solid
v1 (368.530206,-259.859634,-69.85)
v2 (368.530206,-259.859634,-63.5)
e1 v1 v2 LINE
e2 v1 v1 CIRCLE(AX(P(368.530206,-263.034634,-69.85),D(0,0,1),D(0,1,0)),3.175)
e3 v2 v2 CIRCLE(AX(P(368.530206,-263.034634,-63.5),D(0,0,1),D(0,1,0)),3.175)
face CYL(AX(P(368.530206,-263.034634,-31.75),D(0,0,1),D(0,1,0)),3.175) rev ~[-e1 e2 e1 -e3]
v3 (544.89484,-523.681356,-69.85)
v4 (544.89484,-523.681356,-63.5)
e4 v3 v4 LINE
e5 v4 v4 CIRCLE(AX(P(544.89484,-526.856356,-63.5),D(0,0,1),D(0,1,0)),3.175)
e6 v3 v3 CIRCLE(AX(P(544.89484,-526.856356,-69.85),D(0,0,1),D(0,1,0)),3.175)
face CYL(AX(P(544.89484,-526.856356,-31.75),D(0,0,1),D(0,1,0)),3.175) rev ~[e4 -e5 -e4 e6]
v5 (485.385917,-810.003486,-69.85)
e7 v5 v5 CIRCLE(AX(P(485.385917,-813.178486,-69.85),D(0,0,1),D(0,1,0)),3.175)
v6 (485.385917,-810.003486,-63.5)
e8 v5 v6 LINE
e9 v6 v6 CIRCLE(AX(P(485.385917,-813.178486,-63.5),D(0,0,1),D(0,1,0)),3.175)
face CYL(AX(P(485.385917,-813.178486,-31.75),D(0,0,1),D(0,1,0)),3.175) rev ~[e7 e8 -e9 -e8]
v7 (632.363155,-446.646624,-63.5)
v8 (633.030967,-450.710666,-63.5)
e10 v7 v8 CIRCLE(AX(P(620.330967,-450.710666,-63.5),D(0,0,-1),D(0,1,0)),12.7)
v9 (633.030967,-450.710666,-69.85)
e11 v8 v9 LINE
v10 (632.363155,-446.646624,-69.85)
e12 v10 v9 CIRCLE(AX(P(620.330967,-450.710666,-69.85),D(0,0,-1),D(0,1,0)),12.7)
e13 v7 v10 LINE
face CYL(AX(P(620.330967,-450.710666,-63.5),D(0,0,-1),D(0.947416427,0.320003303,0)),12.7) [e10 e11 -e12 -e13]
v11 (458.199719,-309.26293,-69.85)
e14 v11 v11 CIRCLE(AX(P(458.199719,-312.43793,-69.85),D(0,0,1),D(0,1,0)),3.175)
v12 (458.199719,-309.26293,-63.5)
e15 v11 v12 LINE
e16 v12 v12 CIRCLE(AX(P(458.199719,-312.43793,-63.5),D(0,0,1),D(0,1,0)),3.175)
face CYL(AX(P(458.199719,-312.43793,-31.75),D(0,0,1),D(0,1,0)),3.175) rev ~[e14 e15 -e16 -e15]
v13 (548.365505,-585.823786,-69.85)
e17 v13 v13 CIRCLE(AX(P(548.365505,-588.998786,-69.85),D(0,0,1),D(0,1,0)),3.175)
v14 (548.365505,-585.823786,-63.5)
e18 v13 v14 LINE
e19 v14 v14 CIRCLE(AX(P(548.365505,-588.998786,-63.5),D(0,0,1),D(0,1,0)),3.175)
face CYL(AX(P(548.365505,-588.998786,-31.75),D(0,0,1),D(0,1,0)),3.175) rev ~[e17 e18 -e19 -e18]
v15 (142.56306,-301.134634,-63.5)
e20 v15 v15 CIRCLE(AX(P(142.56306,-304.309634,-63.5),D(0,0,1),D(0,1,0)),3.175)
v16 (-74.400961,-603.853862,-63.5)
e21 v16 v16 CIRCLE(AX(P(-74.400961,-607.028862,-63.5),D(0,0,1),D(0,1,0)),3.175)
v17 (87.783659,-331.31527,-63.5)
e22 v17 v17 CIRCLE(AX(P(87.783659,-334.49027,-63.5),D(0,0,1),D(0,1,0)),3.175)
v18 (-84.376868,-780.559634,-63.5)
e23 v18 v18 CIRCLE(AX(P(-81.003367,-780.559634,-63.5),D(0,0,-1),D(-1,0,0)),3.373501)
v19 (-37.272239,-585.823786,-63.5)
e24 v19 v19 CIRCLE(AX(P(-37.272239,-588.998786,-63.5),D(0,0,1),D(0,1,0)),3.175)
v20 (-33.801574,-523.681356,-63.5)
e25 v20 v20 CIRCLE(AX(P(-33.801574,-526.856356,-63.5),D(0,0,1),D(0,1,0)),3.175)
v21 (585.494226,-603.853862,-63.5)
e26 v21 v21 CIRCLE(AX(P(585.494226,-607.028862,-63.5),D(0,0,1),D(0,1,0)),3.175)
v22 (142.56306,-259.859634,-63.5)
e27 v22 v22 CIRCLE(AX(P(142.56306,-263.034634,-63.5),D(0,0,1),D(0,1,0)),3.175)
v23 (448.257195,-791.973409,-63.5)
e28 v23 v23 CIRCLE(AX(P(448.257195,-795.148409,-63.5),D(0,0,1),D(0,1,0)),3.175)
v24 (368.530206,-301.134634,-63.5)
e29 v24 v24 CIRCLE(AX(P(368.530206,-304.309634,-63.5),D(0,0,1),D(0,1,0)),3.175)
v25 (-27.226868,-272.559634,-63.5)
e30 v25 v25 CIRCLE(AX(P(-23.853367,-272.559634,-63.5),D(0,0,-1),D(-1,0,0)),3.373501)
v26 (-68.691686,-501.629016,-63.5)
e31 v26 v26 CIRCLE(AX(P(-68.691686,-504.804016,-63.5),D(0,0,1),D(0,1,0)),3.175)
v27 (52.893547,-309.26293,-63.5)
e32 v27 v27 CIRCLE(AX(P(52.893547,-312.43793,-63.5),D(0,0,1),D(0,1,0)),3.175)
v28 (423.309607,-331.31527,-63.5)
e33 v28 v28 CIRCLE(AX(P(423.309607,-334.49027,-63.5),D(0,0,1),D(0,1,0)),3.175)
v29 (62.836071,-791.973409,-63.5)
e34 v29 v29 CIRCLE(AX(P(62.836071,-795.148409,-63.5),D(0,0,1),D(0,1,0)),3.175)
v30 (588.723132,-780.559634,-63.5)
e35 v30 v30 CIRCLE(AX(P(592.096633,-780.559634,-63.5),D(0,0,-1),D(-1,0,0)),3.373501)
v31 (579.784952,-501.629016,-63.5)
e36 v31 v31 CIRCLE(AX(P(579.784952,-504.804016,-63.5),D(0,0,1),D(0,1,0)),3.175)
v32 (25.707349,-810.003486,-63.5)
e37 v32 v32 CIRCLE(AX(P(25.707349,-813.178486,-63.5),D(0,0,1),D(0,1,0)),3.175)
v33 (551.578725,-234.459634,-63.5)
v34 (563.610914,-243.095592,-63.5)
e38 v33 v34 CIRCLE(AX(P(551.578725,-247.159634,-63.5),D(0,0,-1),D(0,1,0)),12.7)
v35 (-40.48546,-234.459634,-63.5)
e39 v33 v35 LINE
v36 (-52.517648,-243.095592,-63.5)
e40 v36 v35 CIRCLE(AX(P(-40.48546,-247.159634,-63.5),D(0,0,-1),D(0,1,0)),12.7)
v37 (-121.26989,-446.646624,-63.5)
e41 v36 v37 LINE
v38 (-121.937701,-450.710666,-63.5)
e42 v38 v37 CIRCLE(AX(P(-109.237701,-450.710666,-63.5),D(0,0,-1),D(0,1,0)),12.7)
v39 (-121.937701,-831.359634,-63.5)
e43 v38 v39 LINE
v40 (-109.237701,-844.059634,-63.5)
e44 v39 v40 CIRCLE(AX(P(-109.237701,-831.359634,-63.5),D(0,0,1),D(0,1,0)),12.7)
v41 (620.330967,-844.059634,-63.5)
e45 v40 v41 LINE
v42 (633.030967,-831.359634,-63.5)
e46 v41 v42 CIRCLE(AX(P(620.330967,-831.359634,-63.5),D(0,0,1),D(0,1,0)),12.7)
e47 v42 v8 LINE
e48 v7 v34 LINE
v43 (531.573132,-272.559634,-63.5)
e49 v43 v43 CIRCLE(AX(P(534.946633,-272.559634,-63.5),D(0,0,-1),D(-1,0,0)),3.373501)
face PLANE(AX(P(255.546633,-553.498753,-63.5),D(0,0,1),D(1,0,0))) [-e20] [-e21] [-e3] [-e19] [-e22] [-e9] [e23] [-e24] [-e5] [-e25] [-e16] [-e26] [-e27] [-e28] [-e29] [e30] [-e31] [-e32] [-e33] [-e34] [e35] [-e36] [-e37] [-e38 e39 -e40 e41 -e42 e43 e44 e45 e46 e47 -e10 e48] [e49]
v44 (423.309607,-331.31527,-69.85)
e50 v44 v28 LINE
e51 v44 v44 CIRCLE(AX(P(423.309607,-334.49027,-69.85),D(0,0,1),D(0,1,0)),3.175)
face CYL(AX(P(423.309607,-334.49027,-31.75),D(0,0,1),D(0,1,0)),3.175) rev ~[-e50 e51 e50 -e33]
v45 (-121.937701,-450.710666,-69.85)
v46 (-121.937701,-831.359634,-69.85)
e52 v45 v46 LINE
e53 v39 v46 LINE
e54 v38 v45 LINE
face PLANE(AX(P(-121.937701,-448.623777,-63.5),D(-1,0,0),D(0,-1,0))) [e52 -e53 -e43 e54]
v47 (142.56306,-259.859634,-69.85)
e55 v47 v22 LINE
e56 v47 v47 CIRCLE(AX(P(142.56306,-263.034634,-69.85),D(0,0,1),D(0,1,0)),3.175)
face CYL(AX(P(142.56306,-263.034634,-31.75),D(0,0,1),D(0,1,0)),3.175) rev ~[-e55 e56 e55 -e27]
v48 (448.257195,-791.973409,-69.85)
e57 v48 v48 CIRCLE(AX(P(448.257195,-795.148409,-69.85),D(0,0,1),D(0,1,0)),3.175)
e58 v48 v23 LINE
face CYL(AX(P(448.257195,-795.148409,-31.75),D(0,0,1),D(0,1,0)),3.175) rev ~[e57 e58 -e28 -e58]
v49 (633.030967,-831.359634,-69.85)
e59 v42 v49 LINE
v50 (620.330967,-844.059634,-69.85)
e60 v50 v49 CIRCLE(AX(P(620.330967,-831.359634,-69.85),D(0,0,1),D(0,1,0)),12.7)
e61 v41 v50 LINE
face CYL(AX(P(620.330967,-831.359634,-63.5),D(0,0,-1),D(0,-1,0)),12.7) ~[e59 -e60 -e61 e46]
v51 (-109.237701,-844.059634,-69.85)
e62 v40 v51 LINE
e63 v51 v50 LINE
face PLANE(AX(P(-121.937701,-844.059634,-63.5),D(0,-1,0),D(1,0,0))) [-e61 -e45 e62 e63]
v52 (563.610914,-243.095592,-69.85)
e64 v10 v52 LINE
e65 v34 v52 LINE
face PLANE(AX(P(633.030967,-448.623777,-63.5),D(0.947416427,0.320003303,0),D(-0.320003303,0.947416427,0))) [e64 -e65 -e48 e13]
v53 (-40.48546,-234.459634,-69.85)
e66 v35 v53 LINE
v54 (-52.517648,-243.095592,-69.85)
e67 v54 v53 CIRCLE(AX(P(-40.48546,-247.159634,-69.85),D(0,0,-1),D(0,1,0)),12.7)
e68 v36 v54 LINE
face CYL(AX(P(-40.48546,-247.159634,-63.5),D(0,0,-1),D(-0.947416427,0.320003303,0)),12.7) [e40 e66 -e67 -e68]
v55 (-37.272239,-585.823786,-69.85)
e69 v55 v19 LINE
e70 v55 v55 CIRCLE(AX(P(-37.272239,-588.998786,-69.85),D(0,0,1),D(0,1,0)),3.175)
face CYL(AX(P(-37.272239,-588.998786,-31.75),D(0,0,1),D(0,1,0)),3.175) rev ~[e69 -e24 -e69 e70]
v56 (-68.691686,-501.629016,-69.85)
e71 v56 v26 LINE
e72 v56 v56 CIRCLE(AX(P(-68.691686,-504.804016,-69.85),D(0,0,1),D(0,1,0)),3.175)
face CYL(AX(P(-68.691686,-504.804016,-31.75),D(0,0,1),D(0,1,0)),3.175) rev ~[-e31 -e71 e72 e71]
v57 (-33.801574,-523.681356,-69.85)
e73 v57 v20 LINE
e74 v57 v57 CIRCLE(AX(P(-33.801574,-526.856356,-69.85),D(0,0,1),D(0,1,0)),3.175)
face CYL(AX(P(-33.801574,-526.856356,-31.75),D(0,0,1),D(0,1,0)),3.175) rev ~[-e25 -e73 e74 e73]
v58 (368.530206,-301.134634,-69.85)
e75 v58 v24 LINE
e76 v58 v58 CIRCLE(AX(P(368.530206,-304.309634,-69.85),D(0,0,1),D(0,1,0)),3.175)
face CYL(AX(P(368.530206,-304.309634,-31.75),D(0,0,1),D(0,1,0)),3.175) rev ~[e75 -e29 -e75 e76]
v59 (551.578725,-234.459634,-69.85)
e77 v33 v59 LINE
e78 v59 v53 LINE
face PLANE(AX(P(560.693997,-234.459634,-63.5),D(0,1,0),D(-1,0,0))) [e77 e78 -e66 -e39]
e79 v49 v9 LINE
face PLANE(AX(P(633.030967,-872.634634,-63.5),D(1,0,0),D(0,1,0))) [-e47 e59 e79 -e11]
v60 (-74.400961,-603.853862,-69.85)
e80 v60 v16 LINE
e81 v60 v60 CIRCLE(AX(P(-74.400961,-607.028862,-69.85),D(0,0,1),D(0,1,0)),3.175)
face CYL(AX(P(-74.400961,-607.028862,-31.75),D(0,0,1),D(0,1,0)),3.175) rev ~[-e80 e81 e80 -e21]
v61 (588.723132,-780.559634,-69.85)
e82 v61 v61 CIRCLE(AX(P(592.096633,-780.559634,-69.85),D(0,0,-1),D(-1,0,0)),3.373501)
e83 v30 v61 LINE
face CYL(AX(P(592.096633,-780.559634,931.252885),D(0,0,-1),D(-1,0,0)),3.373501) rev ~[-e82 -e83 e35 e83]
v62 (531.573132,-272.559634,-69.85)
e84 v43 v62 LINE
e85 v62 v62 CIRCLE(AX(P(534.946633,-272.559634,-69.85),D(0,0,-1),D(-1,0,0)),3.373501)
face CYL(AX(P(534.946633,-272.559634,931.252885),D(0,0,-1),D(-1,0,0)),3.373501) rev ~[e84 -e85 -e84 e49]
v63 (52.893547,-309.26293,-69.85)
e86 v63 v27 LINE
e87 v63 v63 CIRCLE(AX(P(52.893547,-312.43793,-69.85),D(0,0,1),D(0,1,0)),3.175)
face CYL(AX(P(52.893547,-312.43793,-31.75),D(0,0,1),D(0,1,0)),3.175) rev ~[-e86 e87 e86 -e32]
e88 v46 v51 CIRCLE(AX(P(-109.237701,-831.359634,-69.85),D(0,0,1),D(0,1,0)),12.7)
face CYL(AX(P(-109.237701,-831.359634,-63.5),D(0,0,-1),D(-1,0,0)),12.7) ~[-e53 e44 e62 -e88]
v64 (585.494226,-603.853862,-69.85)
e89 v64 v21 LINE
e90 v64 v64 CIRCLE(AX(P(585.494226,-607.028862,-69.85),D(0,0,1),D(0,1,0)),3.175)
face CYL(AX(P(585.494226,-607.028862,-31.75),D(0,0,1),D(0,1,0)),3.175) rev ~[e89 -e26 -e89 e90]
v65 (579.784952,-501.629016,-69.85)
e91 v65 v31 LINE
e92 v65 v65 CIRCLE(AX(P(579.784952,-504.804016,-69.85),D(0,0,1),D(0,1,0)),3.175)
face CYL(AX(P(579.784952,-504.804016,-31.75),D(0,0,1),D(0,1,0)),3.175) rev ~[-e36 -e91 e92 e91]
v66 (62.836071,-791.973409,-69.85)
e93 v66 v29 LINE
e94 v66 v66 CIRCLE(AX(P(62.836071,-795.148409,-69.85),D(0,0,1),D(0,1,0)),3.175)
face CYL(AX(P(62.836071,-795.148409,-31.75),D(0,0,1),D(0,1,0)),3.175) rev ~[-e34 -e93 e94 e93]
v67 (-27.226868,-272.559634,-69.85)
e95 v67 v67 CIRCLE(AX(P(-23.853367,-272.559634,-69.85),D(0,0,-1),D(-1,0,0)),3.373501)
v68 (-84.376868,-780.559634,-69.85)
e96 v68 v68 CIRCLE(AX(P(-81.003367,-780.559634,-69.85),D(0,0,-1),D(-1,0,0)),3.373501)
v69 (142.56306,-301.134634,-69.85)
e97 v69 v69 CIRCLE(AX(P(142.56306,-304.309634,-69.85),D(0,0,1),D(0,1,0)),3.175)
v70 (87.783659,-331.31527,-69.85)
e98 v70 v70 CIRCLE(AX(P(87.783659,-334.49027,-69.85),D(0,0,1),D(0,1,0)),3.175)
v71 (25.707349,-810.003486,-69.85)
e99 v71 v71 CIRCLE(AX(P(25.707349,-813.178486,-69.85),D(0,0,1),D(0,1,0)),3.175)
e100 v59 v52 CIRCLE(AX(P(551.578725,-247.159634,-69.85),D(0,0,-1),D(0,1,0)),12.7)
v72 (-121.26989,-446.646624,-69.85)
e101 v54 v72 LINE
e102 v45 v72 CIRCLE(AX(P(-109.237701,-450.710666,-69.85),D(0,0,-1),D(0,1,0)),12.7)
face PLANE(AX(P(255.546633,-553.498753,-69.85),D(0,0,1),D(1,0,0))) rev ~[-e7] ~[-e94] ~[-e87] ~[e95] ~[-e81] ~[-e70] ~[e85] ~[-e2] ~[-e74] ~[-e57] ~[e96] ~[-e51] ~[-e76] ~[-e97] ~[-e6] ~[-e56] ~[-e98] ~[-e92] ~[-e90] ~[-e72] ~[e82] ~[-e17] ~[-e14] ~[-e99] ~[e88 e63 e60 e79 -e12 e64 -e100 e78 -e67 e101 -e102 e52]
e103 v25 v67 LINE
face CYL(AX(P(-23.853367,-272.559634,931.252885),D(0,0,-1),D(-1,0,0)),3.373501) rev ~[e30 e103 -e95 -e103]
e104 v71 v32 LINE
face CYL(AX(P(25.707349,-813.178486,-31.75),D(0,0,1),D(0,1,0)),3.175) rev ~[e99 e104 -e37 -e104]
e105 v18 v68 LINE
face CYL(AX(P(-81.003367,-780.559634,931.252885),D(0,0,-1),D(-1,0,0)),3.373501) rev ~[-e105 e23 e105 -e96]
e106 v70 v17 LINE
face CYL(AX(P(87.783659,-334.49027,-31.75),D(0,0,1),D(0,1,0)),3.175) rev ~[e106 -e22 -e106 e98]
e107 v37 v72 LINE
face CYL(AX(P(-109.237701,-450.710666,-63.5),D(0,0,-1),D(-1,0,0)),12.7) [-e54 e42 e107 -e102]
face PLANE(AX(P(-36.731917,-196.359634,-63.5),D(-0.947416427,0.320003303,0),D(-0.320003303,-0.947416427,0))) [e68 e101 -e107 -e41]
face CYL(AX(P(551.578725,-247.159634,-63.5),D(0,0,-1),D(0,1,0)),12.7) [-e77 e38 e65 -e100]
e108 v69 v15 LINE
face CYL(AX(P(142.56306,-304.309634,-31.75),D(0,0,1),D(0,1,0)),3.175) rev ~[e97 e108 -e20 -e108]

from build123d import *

# Parameters (mm, degrees)
SKETCH1_R                             = 5.3578125
BOSS_EXTRUDE1_DEPTH                   = 6.35
FILLET1_R                             = 6.35
CUT_EXTRUDE1_DEPTH                    = 1167.284548985
BOSS_EXTRUDE3_DEPTH                   = 6.35
SKETCH13_W                            = 3.175
SKETCH13_H                            = 76.2
F_1_4_0_25_DIAMETER_HOLE4_AT_2_COUNT  = 2
F_1_4_0_25_DIAMETER_HOLE4_AT_2_PITCH  = 459.678567638
F_1_4_0_25_DIAMETER_HOLE4_AT_3_COUNT  = 2
F_1_4_0_25_DIAMETER_HOLE4_AT_3_PITCH  = 596.539198556
F_1_4_0_25_DIAMETER_HOLE4_AT_4_COUNT  = 2
F_1_4_0_25_DIAMETER_HOLE4_AT_4_PITCH  = 568.707381741
F_1_4_0_25_DIAMETER_HOLE4_AT_5_COUNT  = 2
F_1_4_0_25_DIAMETER_HOLE4_AT_5_PITCH  = 422.93434027
F_1_4_0_25_DIAMETER_HOLE4_AT_6_COUNT  = 2
F_1_4_0_25_DIAMETER_HOLE4_AT_6_PITCH  = 592.904725038
F_1_4_0_25_DIAMETER_HOLE4_AT_7_COUNT  = 2
F_1_4_0_25_DIAMETER_HOLE4_AT_7_PITCH  = 634.11103449
F_1_4_0_25_DIAMETER_HOLE4_AT_8_COUNT  = 2
F_1_4_0_25_DIAMETER_HOLE4_AT_8_PITCH  = 622.278043561
F_1_4_0_25_DIAMETER_HOLE4_AT_9_COUNT  = 2
F_1_4_0_25_DIAMETER_HOLE4_AT_9_PITCH  = 661.65758107
F_1_4_0_25_DIAMETER_HOLE4_AT_10_COUNT = 2
F_1_4_0_25_DIAMETER_HOLE4_AT_10_PITCH = 648.217378276
F_1_4_0_25_DIAMETER_HOLE4_AT_11_COUNT = 2
F_1_4_0_25_DIAMETER_HOLE4_AT_11_PITCH = 613.575602616
F_1_4_0_25_DIAMETER_HOLE4_AT_12_COUNT = 2
F_1_4_0_25_DIAMETER_HOLE4_AT_12_PITCH = 522.113747952
F_1_4_0_25_DIAMETER_HOLE4_AT_13_COUNT = 2
F_1_4_0_25_DIAMETER_HOLE4_AT_13_PITCH = 562.417563003
F_1_4_0_25_DIAMETER_HOLE4_AT_14_COUNT = 2
F_1_4_0_25_DIAMETER_HOLE4_AT_14_PITCH = 501.478009771
F_1_4_0_25_DIAMETER_HOLE4_AT_15_COUNT = 2
F_1_4_0_25_DIAMETER_HOLE4_AT_15_PITCH = 482.69646419
F_1_4_0_25_DIAMETER_HOLE4_AT_16_COUNT = 2
F_1_4_0_25_DIAMETER_HOLE4_AT_16_PITCH = 322.499599747
F_1_4_0_25_DIAMETER_HOLE4_AT_17_COUNT = 2
F_1_4_0_25_DIAMETER_HOLE4_AT_17_PITCH = 292.440889916
F_1_4_0_25_DIAMETER_HOLE4_AT_18_COUNT = 2
F_1_4_0_25_DIAMETER_HOLE4_AT_18_PITCH = 41.275
F_1_4_0_25_DIAMETER_HOLE4_AT_19_COUNT = 2
F_1_4_0_25_DIAMETER_HOLE4_AT_19_PITCH = 232.85825455
F_1_4_0_25_DIAMETER_HOLE4_AT_20_COUNT = 2
F_1_4_0_25_DIAMETER_HOLE4_AT_20_PITCH = 229.170986574
SKETCH15_W                            = 754.968667661
SKETCH15_H                            = 28.575
CUT_EXTRUDE3_DEPTH                    = 1079.081505166
F_17_64_0_26563_DIAMETER_HOLE1_D      = 6.747002
CUT_EXTRUDE4_DEPTH                    = 1056.085396105
FILLET2_R                             = 12.7


with BuildPart() as part:
    # Sketch1 → Boss-Extrude1 (new body)
    with BuildSketch(Plane.XY):
        Polygon((128.546632935, 292.971606529), (382.546632935, 292.971606529), (776.246632935, -872.634633965), (-265.153367065, -872.634633965), align=None)
        with Locations((396.756156044, 191.371606529)):
            Circle(SKETCH1_R, mode=Mode.SUBTRACT)
        with Locations((114.659199441, 192.325199783)):
            Circle(SKETCH1_R, mode=Mode.SUBTRACT)
        with Locations((-193.570796303, -720.234633965)):
            Circle(SKETCH1_R, mode=Mode.SUBTRACT)
        with Locations((704.664062174, -720.234633965)):
            Circle(SKETCH1_R, mode=Mode.SUBTRACT)
        with Locations((491.127459301, -88.028393471)):
            Circle(SKETCH1_R, mode=Mode.SUBTRACT)
        with Locations((593.220051006, -390.288393471)):
            Circle(SKETCH1_R, mode=Mode.SUBTRACT)
        with Locations((19.96580657, -88.028393471)):
            Circle(SKETCH1_R, mode=Mode.SUBTRACT)
        with Locations((-82.126785136, -390.288393471)):
            Circle(SKETCH1_R, mode=Mode.SUBTRACT)
        with Locations((306.346632935, 271.727158802)):
            Circle(SKETCH1_R, mode=Mode.SUBTRACT)
        with Locations((204.746632935, 271.727158802)):
            Circle(SKETCH1_R, mode=Mode.SUBTRACT)
        with Locations((-82.126785136, -834.534633965)):
            Circle(SKETCH1_R, mode=Mode.SUBTRACT)
        with Locations((593.220051006, -834.534633965)):
            Circle(SKETCH1_R, mode=Mode.SUBTRACT)
        with BuildLine():
            Line((-180.239726648, -736.327985402), (-172.111642745, -712.26360816))
            ThreePointArc((-172.111642745, -712.26360816), (-156.015412172, -704.29546149), (-148.047265502, -720.391692063))
            Line((-148.047265502, -720.391692063), (-156.175349405, -744.456069305))
            ThreePointArc((-156.175349405, -744.456069305), (-172.271579978, -752.424215975), (-180.239726648, -736.327985402))
        make_face(mode=Mode.SUBTRACT)
        with BuildLine():
            Line((-94.231734473, -791.354633965), (-68.831734473, -791.354633965))
            ThreePointArc((-68.831734473, -791.354633965), (-56.131734473, -804.054633965), (-68.831734473, -816.754633965))
            Line((-68.831734473, -816.754633965), (-94.231734473, -816.754633965))
            ThreePointArc((-94.231734473, -816.754633965), (-106.931734473, -804.054633965), (-94.231734473, -791.354633965))
        make_face(mode=Mode.SUBTRACT)
        with BuildLine():
            Line((580.520051006, -791.354633965), (605.920051006, -791.354633965))
            ThreePointArc((605.920051006, -791.354633965), (618.620051006, -804.054633965), (605.920051006, -816.754633965))
            Line((605.920051006, -816.754633965), (580.520051006, -816.754633965))
            ThreePointArc((580.520051006, -816.754633965), (567.820051006, -804.054633965), (580.520051006, -791.354633965))
        make_face(mode=Mode.SUBTRACT)
        with BuildLine():
            Line((-68.772097635, -406.311820835), (-60.644013732, -382.247443592))
            ThreePointArc((-60.644013732, -382.247443592), (-44.54778316, -374.279296923), (-36.57963649, -390.375527495))
            Line((-36.57963649, -390.375527495), (-44.707720392, -414.439904738))
            ThreePointArc((-44.707720392, -414.439904738), (-60.803950965, -422.408051408), (-68.772097635, -406.311820835))
        make_face(mode=Mode.SUBTRACT)
        with BuildLine():
            Line((33.202373314, -104.401534553), (41.330457217, -80.33715731))
            ThreePointArc((41.330457217, -80.33715731), (57.426687789, -72.36901064), (65.394834459, -88.465241213))
            Line((65.394834459, -88.465241213), (57.266750557, -112.529618456))
            ThreePointArc((57.266750557, -112.529618456), (41.170519984, -120.497765125), (33.202373314, -104.401534553))
        make_face(mode=Mode.SUBTRACT)
        with BuildLine():
            Line((127.949253412, 176.110415433), (136.077337315, 200.174792676))
            ThreePointArc((136.077337315, 200.174792676), (152.173567887, 208.142939345), (160.141714557, 192.046708773))
            Line((160.141714557, 192.046708773), (152.013630654, 167.98233153))
            ThreePointArc((152.013630654, 167.98233153), (135.917400082, 160.01418486), (127.949253412, 176.110415433))
        make_face(mode=Mode.SUBTRACT)
        with BuildLine():
            Line((192.113515822, 253.947158802), (217.513515822, 253.947158802))
            ThreePointArc((217.513515822, 253.947158802), (230.213515822, 241.247158802), (217.513515822, 228.547158802))
            Line((217.513515822, 228.547158802), (192.113515822, 228.547158802))
            ThreePointArc((192.113515822, 228.547158802), (179.413515822, 241.247158802), (192.113515822, 253.947158802))
        make_face(mode=Mode.SUBTRACT)
        with BuildLine():
            Line((293.646632935, 253.947158802), (319.046632935, 253.947158802))
            ThreePointArc((319.046632935, 253.947158802), (331.746632935, 241.247158802), (319.046632935, 228.547158802))
            Line((319.046632935, 228.547158802), (293.646632935, 228.547158802))
            ThreePointArc((293.646632935, 228.547158802), (280.946632935, 241.247158802), (293.646632935, 253.947158802))
        make_face(mode=Mode.SUBTRACT)
        with BuildLine():
            Line((359.065010443, 168.025630302), (350.936926541, 192.090007545))
            ThreePointArc((350.936926541, 192.090007545), (358.905073211, 208.186238118), (375.001303783, 200.218091448))
            Line((375.001303783, 200.218091448), (383.129387686, 176.153714205))
            ThreePointArc((383.129387686, 176.153714205), (375.161241016, 160.057483633), (359.065010443, 168.025630302))
        make_face(mode=Mode.SUBTRACT)
        with BuildLine():
            Line((453.826515314, -112.529618456), (445.698431411, -88.465241213))
            ThreePointArc((445.698431411, -88.465241213), (453.666578081, -72.36901064), (469.762808654, -80.33715731))
            Line((469.762808654, -80.33715731), (477.890892557, -104.401534553))
            ThreePointArc((477.890892557, -104.401534553), (469.922745887, -120.497765125), (453.826515314, -112.529618456))
        make_face(mode=Mode.SUBTRACT)
        with BuildLine():
            Line((555.800986263, -414.439904738), (547.67290236, -390.375527495))
            ThreePointArc((547.67290236, -390.375527495), (555.64104903, -374.279296923), (571.737279603, -382.247443592))
            Line((571.737279603, -382.247443592), (579.865363506, -406.311820835))
            ThreePointArc((579.865363506, -406.311820835), (571.897216836, -422.408051408), (555.800986263, -414.439904738))
        make_face(mode=Mode.SUBTRACT)
        with BuildLine():
            Line((667.268615276, -744.456069305), (659.140531373, -720.391692063))
            ThreePointArc((659.140531373, -720.391692063), (667.108678043, -704.29546149), (683.204908616, -712.26360816))
            Line((683.204908616, -712.26360816), (691.332992518, -736.327985402))
            ThreePointArc((691.332992518, -736.327985402), (683.364845848, -752.424215975), (667.268615276, -744.456069305))
        make_face(mode=Mode.SUBTRACT)
    extrude(amount=BOSS_EXTRUDE1_DEPTH)

    # Fillet1
    fillet1_edges = [part.edges().sort_by_distance(p)[0] for p in [
        (128.546632935, 292.971606529, 3.175),
        (382.546632935, 292.971606529, 3.175),
        (776.246632935, -872.634633965, 3.175),
        (-265.153367065, -872.634633965, 3.175),
    ]]
    fillet(fillet1_edges, radius=FILLET1_R)

    # Sketch2 → Cut-Extrude1 (cut, through all)
    with BuildSketch(Plane.XY.offset(6.35)):
        with BuildLine():
            Line((91.647166248, -808.257330621), (67.972798838, -842.067831249))
            ThreePointArc((67.972798838, -842.067831249), (255.546632935, -247.159633965), (443.120467033, -842.067831249))
            Line((443.120467033, -842.067831249), (419.446099623, -808.257330621))
            ThreePointArc((419.446099623, -808.257330621), (255.546632935, -288.434633965), (91.647166248, -808.257330621))
        make_face()
    extrude(amount=-CUT_EXTRUDE1_DEPTH, mode=Mode.SUBTRACT)


with BuildPart() as body_2:
    # Sketch7 → Boss-Extrude3 (new body)
    with BuildSketch(Plane(origin=(0, 0, -63.5), x_dir=(-1, 0, 0), z_dir=(0, 0, -1))):
        Polygon((121.937700895, -872.634633965), (-633.030966766, -872.634633965), (-633.030966766, -448.623777416), (-547.825183006, -196.359633965), (36.731917136, -196.359633965), (121.937700895, -448.623777416), align=None)
    extrude(amount=BOSS_EXTRUDE3_DEPTH)

    # Sketch13 → 1/4 (0.25) Diameter Hole4 (revolve, cut)
    with BuildSketch(Plane(origin=(25.707349116, -813.178486157, -69.85), x_dir=(0, 1, 0), z_dir=(1, 0, 0))):
        with Locations((1.5875, 38.1)):
            Rectangle(SKETCH13_W, SKETCH13_H)
    f_1_4_0_25_diameter_hole4 = revolve(axis=Axis((25.707349116, -813.178486157, -76.2), (0, 0, 1)), mode=Mode.SUBTRACT)

    # 1/4 (0.25) Diameter Hole4 at 2: 1/4 (0.25) Diameter Hole4 ×2
    with Locations(*[(i * F_1_4_0_25_DIAMETER_HOLE4_AT_2_PITCH, 0, 0) for i in range(1, F_1_4_0_25_DIAMETER_HOLE4_AT_2_COUNT)]):
        add(f_1_4_0_25_diameter_hole4, mode=Mode.SUBTRACT)

    # 1/4 (0.25) Diameter Hole4 at 3: 1/4 (0.25) Diameter Hole4 ×2
    with Locations(*[Vector(0.9383907690341254, 0.345575989605098, 0) * (i * F_1_4_0_25_DIAMETER_HOLE4_AT_3_PITCH) for i in range(1, F_1_4_0_25_DIAMETER_HOLE4_AT_3_COUNT)]):
        add(f_1_4_0_25_diameter_hole4, mode=Mode.SUBTRACT)

    # 1/4 (0.25) Diameter Hole4 at 4: 1/4 (0.25) Diameter Hole4 ×2
    with Locations(*[Vector(0.9190282606116896, 0.39419164907066767, 0) * (i * F_1_4_0_25_DIAMETER_HOLE4_AT_4_PITCH) for i in range(1, F_1_4_0_25_DIAMETER_HOLE4_AT_4_COUNT)]):
        add(f_1_4_0_25_diameter_hole4, mode=Mode.SUBTRACT)

    # 1/4 (0.25) Diameter Hole4 at 5: 1/4 (0.25) Diameter Hole4 ×2
    with Locations(*[Vector(0.9990908894172673, 0.04263091229863252, 0) * (i * F_1_4_0_25_DIAMETER_HOLE4_AT_5_PITCH) for i in range(1, F_1_4_0_25_DIAMETER_HOLE4_AT_5_COUNT)]):
        add(f_1_4_0_25_diameter_hole4, mode=Mode.SUBTRACT)

    # 1/4 (0.25) Diameter Hole4 at 6: 1/4 (0.25) Diameter Hole4 ×2
    with Locations(*[Vector(0.8756676563773524, 0.4829142321102114, 0) * (i * F_1_4_0_25_DIAMETER_HOLE4_AT_6_PITCH) for i in range(1, F_1_4_0_25_DIAMETER_HOLE4_AT_6_COUNT)]):
        add(f_1_4_0_25_diameter_hole4, mode=Mode.SUBTRACT)

    # 1/4 (0.25) Diameter Hole4 at 7: 1/4 (0.25) Diameter Hole4 ×2
    with Locations(*[Vector(0.8737864077669905, 0.48630989461624, 0) * (i * F_1_4_0_25_DIAMETER_HOLE4_AT_7_PITCH) for i in range(1, F_1_4_0_25_DIAMETER_HOLE4_AT_7_COUNT)]):
        add(f_1_4_0_25_diameter_hole4, mode=Mode.SUBTRACT)

    # 1/4 (0.25) Diameter Hole4 at 8: 1/4 (0.25) Diameter Hole4 ×2
    with Locations(*[Vector(0.638946306539278, 0.7692513356243298, 0) * (i * F_1_4_0_25_DIAMETER_HOLE4_AT_8_PITCH) for i in range(1, F_1_4_0_25_DIAMETER_HOLE4_AT_8_COUNT)]):
        add(f_1_4_0_25_diameter_hole4, mode=Mode.SUBTRACT)

    # 1/4 (0.25) Diameter Hole4 at 9: 1/4 (0.25) Diameter Hole4 ×2
    with Locations(*[Vector(0.653649836215198, 0.7567971271191803, 0) * (i * F_1_4_0_25_DIAMETER_HOLE4_AT_9_PITCH) for i in range(1, F_1_4_0_25_DIAMETER_HOLE4_AT_9_COUNT)]):
        add(f_1_4_0_25_diameter_hole4, mode=Mode.SUBTRACT)

    # 1/4 (0.25) Diameter Hole4 at 10: 1/4 (0.25) Diameter Hole4 ×2
    with Locations(*[Vector(0.528870204123914, 0.8487027201499532, 0) * (i * F_1_4_0_25_DIAMETER_HOLE4_AT_10_PITCH) for i in range(1, F_1_4_0_25_DIAMETER_HOLE4_AT_10_COUNT)]):
        add(f_1_4_0_25_diameter_hole4, mode=Mode.SUBTRACT)

    # 1/4 (0.25) Diameter Hole4 at 11: 1/4 (0.25) Diameter Hole4 ×2
    with Locations(*[Vector(0.5587296100168245, 0.8293498796590297, 0) * (i * F_1_4_0_25_DIAMETER_HOLE4_AT_11_PITCH) for i in range(1, F_1_4_0_25_DIAMETER_HOLE4_AT_11_COUNT)]):
        add(f_1_4_0_25_diameter_hole4, mode=Mode.SUBTRACT)

    # 1/4 (0.25) Diameter Hole4 at 12: 1/4 (0.25) Diameter Hole4 ×2
    with Locations(*[Vector(0.22381274373799284, 0.9746321643268663, 0) * (i * F_1_4_0_25_DIAMETER_HOLE4_AT_12_PITCH) for i in range(1, F_1_4_0_25_DIAMETER_HOLE4_AT_12_COUNT)]):
        add(f_1_4_0_25_diameter_hole4, mode=Mode.SUBTRACT)

    # 1/4 (0.25) Diameter Hole4 at 13: 1/4 (0.25) Diameter Hole4 ×2
    with Locations(*[Vector(0.20777393552325948, 0.9781768713873665, 0) * (i * F_1_4_0_25_DIAMETER_HOLE4_AT_13_PITCH) for i in range(1, F_1_4_0_25_DIAMETER_HOLE4_AT_13_COUNT)]):
        add(f_1_4_0_25_diameter_hole4, mode=Mode.SUBTRACT)

    # 1/4 (0.25) Diameter Hole4 at 14: 1/4 (0.25) Diameter Hole4 ×2
    with Locations(*[Vector(0.05421214412483132, 0.9985294404419874, 0) * (i * F_1_4_0_25_DIAMETER_HOLE4_AT_14_PITCH) for i in range(1, F_1_4_0_25_DIAMETER_HOLE4_AT_14_COUNT)]):
        add(f_1_4_0_25_diameter_hole4, mode=Mode.SUBTRACT)

    # 1/4 (0.25) Diameter Hole4 at 15: 1/4 (0.25) Diameter Hole4 ×2
    with Locations(*[Vector(0.12860320029191077, 0.9916961313198105, 0) * (i * F_1_4_0_25_DIAMETER_HOLE4_AT_15_PITCH) for i in range(1, F_1_4_0_25_DIAMETER_HOLE4_AT_15_COUNT)]):
        add(f_1_4_0_25_diameter_hole4, mode=Mode.SUBTRACT)

    # 1/4 (0.25) Diameter Hole4 at 16: 1/4 (0.25) Diameter Hole4 ×2
    with Locations(*[Vector(-0.29271055030361265, 0.956201094823132, 0) * (i * F_1_4_0_25_DIAMETER_HOLE4_AT_16_PITCH) for i in range(1, F_1_4_0_25_DIAMETER_HOLE4_AT_16_COUNT)]):
        add(f_1_4_0_25_diameter_hole4, mode=Mode.SUBTRACT)

    # 1/4 (0.25) Diameter Hole4 at 17: 1/4 (0.25) Diameter Hole4 ×2
    with Locations(*[Vector(-0.20349043325815705, 0.9790769344502033, 0) * (i * F_1_4_0_25_DIAMETER_HOLE4_AT_17_PITCH) for i in range(1, F_1_4_0_25_DIAMETER_HOLE4_AT_17_COUNT)]):
        add(f_1_4_0_25_diameter_hole4, mode=Mode.SUBTRACT)

    # 1/4 (0.25) Diameter Hole4 at 18: 1/4 (0.25) Diameter Hole4 ×2
    with Locations(*[Vector(0.8995450382318291, 0.4368280258780305, 0) * (i * F_1_4_0_25_DIAMETER_HOLE4_AT_18_PITCH) for i in range(1, F_1_4_0_25_DIAMETER_HOLE4_AT_18_COUNT)]):
        add(f_1_4_0_25_diameter_hole4, mode=Mode.SUBTRACT)

    # 1/4 (0.25) Diameter Hole4 at 19: 1/4 (0.25) Diameter Hole4 ×2
    with Locations(*[Vector(-0.27046319797490564, 0.9627303145435835, 0) * (i * F_1_4_0_25_DIAMETER_HOLE4_AT_19_PITCH) for i in range(1, F_1_4_0_25_DIAMETER_HOLE4_AT_19_COUNT)]):
        add(f_1_4_0_25_diameter_hole4, mode=Mode.SUBTRACT)

    # 1/4 (0.25) Diameter Hole4 at 20: 1/4 (0.25) Diameter Hole4 ×2
    with Locations(*[Vector(-0.43682802587803055, 0.899545038231829, 0) * (i * F_1_4_0_25_DIAMETER_HOLE4_AT_20_PITCH) for i in range(1, F_1_4_0_25_DIAMETER_HOLE4_AT_20_COUNT)]):
        add(f_1_4_0_25_diameter_hole4, mode=Mode.SUBTRACT)

    # Sketch15 → Cut-Extrude3 (cut, through all)
    with BuildSketch(Plane.XY.offset(-63.5)):
        with Locations((255.546632935, -858.347133965)):
            Rectangle(SKETCH15_W, SKETCH15_H)
    extrude(amount=-CUT_EXTRUDE3_DEPTH, mode=Mode.SUBTRACT)

    # 17/64 (0.26563) Diameter Hole1 (through all)
    with Locations(Plane.XY.offset(-63.5)):
        with Locations((-23.853367065, -272.559633965), (534.946632935, -272.559633965), (592.096632935, -780.559633965), (-81.003367065, -780.559633965)):
            Hole(F_17_64_0_26563_DIAMETER_HOLE1_D / 2)

    # Sketch19 → Cut-Extrude4 (cut, through all)
    with BuildSketch(Plane.XY.offset(-63.5)):
        Polygon((547.825183006, -196.359633965), (560.693997087, -234.459633965), (-49.600731216, -234.459633965), (-36.731917136, -196.359633965), align=None)
    extrude(amount=-CUT_EXTRUDE4_DEPTH, mode=Mode.SUBTRACT)

    # Fillet2
    fillet2_edges = [body_2.edges().sort_by_distance(p)[0] for p in [
        (633.030966766, -448.623777416, -66.675),
        (-121.937700895, -448.623777416, -66.675),
        (-121.937700895, -844.059633965, -66.675),
        (633.030966766, -844.059633965, -66.675),
        (560.693997087, -234.459633965, -66.675),
        (-49.600731216, -234.459633965, -66.675),
    ]]
    fillet(fillet2_edges, radius=FILLET2_R)


solid = body_2.part
